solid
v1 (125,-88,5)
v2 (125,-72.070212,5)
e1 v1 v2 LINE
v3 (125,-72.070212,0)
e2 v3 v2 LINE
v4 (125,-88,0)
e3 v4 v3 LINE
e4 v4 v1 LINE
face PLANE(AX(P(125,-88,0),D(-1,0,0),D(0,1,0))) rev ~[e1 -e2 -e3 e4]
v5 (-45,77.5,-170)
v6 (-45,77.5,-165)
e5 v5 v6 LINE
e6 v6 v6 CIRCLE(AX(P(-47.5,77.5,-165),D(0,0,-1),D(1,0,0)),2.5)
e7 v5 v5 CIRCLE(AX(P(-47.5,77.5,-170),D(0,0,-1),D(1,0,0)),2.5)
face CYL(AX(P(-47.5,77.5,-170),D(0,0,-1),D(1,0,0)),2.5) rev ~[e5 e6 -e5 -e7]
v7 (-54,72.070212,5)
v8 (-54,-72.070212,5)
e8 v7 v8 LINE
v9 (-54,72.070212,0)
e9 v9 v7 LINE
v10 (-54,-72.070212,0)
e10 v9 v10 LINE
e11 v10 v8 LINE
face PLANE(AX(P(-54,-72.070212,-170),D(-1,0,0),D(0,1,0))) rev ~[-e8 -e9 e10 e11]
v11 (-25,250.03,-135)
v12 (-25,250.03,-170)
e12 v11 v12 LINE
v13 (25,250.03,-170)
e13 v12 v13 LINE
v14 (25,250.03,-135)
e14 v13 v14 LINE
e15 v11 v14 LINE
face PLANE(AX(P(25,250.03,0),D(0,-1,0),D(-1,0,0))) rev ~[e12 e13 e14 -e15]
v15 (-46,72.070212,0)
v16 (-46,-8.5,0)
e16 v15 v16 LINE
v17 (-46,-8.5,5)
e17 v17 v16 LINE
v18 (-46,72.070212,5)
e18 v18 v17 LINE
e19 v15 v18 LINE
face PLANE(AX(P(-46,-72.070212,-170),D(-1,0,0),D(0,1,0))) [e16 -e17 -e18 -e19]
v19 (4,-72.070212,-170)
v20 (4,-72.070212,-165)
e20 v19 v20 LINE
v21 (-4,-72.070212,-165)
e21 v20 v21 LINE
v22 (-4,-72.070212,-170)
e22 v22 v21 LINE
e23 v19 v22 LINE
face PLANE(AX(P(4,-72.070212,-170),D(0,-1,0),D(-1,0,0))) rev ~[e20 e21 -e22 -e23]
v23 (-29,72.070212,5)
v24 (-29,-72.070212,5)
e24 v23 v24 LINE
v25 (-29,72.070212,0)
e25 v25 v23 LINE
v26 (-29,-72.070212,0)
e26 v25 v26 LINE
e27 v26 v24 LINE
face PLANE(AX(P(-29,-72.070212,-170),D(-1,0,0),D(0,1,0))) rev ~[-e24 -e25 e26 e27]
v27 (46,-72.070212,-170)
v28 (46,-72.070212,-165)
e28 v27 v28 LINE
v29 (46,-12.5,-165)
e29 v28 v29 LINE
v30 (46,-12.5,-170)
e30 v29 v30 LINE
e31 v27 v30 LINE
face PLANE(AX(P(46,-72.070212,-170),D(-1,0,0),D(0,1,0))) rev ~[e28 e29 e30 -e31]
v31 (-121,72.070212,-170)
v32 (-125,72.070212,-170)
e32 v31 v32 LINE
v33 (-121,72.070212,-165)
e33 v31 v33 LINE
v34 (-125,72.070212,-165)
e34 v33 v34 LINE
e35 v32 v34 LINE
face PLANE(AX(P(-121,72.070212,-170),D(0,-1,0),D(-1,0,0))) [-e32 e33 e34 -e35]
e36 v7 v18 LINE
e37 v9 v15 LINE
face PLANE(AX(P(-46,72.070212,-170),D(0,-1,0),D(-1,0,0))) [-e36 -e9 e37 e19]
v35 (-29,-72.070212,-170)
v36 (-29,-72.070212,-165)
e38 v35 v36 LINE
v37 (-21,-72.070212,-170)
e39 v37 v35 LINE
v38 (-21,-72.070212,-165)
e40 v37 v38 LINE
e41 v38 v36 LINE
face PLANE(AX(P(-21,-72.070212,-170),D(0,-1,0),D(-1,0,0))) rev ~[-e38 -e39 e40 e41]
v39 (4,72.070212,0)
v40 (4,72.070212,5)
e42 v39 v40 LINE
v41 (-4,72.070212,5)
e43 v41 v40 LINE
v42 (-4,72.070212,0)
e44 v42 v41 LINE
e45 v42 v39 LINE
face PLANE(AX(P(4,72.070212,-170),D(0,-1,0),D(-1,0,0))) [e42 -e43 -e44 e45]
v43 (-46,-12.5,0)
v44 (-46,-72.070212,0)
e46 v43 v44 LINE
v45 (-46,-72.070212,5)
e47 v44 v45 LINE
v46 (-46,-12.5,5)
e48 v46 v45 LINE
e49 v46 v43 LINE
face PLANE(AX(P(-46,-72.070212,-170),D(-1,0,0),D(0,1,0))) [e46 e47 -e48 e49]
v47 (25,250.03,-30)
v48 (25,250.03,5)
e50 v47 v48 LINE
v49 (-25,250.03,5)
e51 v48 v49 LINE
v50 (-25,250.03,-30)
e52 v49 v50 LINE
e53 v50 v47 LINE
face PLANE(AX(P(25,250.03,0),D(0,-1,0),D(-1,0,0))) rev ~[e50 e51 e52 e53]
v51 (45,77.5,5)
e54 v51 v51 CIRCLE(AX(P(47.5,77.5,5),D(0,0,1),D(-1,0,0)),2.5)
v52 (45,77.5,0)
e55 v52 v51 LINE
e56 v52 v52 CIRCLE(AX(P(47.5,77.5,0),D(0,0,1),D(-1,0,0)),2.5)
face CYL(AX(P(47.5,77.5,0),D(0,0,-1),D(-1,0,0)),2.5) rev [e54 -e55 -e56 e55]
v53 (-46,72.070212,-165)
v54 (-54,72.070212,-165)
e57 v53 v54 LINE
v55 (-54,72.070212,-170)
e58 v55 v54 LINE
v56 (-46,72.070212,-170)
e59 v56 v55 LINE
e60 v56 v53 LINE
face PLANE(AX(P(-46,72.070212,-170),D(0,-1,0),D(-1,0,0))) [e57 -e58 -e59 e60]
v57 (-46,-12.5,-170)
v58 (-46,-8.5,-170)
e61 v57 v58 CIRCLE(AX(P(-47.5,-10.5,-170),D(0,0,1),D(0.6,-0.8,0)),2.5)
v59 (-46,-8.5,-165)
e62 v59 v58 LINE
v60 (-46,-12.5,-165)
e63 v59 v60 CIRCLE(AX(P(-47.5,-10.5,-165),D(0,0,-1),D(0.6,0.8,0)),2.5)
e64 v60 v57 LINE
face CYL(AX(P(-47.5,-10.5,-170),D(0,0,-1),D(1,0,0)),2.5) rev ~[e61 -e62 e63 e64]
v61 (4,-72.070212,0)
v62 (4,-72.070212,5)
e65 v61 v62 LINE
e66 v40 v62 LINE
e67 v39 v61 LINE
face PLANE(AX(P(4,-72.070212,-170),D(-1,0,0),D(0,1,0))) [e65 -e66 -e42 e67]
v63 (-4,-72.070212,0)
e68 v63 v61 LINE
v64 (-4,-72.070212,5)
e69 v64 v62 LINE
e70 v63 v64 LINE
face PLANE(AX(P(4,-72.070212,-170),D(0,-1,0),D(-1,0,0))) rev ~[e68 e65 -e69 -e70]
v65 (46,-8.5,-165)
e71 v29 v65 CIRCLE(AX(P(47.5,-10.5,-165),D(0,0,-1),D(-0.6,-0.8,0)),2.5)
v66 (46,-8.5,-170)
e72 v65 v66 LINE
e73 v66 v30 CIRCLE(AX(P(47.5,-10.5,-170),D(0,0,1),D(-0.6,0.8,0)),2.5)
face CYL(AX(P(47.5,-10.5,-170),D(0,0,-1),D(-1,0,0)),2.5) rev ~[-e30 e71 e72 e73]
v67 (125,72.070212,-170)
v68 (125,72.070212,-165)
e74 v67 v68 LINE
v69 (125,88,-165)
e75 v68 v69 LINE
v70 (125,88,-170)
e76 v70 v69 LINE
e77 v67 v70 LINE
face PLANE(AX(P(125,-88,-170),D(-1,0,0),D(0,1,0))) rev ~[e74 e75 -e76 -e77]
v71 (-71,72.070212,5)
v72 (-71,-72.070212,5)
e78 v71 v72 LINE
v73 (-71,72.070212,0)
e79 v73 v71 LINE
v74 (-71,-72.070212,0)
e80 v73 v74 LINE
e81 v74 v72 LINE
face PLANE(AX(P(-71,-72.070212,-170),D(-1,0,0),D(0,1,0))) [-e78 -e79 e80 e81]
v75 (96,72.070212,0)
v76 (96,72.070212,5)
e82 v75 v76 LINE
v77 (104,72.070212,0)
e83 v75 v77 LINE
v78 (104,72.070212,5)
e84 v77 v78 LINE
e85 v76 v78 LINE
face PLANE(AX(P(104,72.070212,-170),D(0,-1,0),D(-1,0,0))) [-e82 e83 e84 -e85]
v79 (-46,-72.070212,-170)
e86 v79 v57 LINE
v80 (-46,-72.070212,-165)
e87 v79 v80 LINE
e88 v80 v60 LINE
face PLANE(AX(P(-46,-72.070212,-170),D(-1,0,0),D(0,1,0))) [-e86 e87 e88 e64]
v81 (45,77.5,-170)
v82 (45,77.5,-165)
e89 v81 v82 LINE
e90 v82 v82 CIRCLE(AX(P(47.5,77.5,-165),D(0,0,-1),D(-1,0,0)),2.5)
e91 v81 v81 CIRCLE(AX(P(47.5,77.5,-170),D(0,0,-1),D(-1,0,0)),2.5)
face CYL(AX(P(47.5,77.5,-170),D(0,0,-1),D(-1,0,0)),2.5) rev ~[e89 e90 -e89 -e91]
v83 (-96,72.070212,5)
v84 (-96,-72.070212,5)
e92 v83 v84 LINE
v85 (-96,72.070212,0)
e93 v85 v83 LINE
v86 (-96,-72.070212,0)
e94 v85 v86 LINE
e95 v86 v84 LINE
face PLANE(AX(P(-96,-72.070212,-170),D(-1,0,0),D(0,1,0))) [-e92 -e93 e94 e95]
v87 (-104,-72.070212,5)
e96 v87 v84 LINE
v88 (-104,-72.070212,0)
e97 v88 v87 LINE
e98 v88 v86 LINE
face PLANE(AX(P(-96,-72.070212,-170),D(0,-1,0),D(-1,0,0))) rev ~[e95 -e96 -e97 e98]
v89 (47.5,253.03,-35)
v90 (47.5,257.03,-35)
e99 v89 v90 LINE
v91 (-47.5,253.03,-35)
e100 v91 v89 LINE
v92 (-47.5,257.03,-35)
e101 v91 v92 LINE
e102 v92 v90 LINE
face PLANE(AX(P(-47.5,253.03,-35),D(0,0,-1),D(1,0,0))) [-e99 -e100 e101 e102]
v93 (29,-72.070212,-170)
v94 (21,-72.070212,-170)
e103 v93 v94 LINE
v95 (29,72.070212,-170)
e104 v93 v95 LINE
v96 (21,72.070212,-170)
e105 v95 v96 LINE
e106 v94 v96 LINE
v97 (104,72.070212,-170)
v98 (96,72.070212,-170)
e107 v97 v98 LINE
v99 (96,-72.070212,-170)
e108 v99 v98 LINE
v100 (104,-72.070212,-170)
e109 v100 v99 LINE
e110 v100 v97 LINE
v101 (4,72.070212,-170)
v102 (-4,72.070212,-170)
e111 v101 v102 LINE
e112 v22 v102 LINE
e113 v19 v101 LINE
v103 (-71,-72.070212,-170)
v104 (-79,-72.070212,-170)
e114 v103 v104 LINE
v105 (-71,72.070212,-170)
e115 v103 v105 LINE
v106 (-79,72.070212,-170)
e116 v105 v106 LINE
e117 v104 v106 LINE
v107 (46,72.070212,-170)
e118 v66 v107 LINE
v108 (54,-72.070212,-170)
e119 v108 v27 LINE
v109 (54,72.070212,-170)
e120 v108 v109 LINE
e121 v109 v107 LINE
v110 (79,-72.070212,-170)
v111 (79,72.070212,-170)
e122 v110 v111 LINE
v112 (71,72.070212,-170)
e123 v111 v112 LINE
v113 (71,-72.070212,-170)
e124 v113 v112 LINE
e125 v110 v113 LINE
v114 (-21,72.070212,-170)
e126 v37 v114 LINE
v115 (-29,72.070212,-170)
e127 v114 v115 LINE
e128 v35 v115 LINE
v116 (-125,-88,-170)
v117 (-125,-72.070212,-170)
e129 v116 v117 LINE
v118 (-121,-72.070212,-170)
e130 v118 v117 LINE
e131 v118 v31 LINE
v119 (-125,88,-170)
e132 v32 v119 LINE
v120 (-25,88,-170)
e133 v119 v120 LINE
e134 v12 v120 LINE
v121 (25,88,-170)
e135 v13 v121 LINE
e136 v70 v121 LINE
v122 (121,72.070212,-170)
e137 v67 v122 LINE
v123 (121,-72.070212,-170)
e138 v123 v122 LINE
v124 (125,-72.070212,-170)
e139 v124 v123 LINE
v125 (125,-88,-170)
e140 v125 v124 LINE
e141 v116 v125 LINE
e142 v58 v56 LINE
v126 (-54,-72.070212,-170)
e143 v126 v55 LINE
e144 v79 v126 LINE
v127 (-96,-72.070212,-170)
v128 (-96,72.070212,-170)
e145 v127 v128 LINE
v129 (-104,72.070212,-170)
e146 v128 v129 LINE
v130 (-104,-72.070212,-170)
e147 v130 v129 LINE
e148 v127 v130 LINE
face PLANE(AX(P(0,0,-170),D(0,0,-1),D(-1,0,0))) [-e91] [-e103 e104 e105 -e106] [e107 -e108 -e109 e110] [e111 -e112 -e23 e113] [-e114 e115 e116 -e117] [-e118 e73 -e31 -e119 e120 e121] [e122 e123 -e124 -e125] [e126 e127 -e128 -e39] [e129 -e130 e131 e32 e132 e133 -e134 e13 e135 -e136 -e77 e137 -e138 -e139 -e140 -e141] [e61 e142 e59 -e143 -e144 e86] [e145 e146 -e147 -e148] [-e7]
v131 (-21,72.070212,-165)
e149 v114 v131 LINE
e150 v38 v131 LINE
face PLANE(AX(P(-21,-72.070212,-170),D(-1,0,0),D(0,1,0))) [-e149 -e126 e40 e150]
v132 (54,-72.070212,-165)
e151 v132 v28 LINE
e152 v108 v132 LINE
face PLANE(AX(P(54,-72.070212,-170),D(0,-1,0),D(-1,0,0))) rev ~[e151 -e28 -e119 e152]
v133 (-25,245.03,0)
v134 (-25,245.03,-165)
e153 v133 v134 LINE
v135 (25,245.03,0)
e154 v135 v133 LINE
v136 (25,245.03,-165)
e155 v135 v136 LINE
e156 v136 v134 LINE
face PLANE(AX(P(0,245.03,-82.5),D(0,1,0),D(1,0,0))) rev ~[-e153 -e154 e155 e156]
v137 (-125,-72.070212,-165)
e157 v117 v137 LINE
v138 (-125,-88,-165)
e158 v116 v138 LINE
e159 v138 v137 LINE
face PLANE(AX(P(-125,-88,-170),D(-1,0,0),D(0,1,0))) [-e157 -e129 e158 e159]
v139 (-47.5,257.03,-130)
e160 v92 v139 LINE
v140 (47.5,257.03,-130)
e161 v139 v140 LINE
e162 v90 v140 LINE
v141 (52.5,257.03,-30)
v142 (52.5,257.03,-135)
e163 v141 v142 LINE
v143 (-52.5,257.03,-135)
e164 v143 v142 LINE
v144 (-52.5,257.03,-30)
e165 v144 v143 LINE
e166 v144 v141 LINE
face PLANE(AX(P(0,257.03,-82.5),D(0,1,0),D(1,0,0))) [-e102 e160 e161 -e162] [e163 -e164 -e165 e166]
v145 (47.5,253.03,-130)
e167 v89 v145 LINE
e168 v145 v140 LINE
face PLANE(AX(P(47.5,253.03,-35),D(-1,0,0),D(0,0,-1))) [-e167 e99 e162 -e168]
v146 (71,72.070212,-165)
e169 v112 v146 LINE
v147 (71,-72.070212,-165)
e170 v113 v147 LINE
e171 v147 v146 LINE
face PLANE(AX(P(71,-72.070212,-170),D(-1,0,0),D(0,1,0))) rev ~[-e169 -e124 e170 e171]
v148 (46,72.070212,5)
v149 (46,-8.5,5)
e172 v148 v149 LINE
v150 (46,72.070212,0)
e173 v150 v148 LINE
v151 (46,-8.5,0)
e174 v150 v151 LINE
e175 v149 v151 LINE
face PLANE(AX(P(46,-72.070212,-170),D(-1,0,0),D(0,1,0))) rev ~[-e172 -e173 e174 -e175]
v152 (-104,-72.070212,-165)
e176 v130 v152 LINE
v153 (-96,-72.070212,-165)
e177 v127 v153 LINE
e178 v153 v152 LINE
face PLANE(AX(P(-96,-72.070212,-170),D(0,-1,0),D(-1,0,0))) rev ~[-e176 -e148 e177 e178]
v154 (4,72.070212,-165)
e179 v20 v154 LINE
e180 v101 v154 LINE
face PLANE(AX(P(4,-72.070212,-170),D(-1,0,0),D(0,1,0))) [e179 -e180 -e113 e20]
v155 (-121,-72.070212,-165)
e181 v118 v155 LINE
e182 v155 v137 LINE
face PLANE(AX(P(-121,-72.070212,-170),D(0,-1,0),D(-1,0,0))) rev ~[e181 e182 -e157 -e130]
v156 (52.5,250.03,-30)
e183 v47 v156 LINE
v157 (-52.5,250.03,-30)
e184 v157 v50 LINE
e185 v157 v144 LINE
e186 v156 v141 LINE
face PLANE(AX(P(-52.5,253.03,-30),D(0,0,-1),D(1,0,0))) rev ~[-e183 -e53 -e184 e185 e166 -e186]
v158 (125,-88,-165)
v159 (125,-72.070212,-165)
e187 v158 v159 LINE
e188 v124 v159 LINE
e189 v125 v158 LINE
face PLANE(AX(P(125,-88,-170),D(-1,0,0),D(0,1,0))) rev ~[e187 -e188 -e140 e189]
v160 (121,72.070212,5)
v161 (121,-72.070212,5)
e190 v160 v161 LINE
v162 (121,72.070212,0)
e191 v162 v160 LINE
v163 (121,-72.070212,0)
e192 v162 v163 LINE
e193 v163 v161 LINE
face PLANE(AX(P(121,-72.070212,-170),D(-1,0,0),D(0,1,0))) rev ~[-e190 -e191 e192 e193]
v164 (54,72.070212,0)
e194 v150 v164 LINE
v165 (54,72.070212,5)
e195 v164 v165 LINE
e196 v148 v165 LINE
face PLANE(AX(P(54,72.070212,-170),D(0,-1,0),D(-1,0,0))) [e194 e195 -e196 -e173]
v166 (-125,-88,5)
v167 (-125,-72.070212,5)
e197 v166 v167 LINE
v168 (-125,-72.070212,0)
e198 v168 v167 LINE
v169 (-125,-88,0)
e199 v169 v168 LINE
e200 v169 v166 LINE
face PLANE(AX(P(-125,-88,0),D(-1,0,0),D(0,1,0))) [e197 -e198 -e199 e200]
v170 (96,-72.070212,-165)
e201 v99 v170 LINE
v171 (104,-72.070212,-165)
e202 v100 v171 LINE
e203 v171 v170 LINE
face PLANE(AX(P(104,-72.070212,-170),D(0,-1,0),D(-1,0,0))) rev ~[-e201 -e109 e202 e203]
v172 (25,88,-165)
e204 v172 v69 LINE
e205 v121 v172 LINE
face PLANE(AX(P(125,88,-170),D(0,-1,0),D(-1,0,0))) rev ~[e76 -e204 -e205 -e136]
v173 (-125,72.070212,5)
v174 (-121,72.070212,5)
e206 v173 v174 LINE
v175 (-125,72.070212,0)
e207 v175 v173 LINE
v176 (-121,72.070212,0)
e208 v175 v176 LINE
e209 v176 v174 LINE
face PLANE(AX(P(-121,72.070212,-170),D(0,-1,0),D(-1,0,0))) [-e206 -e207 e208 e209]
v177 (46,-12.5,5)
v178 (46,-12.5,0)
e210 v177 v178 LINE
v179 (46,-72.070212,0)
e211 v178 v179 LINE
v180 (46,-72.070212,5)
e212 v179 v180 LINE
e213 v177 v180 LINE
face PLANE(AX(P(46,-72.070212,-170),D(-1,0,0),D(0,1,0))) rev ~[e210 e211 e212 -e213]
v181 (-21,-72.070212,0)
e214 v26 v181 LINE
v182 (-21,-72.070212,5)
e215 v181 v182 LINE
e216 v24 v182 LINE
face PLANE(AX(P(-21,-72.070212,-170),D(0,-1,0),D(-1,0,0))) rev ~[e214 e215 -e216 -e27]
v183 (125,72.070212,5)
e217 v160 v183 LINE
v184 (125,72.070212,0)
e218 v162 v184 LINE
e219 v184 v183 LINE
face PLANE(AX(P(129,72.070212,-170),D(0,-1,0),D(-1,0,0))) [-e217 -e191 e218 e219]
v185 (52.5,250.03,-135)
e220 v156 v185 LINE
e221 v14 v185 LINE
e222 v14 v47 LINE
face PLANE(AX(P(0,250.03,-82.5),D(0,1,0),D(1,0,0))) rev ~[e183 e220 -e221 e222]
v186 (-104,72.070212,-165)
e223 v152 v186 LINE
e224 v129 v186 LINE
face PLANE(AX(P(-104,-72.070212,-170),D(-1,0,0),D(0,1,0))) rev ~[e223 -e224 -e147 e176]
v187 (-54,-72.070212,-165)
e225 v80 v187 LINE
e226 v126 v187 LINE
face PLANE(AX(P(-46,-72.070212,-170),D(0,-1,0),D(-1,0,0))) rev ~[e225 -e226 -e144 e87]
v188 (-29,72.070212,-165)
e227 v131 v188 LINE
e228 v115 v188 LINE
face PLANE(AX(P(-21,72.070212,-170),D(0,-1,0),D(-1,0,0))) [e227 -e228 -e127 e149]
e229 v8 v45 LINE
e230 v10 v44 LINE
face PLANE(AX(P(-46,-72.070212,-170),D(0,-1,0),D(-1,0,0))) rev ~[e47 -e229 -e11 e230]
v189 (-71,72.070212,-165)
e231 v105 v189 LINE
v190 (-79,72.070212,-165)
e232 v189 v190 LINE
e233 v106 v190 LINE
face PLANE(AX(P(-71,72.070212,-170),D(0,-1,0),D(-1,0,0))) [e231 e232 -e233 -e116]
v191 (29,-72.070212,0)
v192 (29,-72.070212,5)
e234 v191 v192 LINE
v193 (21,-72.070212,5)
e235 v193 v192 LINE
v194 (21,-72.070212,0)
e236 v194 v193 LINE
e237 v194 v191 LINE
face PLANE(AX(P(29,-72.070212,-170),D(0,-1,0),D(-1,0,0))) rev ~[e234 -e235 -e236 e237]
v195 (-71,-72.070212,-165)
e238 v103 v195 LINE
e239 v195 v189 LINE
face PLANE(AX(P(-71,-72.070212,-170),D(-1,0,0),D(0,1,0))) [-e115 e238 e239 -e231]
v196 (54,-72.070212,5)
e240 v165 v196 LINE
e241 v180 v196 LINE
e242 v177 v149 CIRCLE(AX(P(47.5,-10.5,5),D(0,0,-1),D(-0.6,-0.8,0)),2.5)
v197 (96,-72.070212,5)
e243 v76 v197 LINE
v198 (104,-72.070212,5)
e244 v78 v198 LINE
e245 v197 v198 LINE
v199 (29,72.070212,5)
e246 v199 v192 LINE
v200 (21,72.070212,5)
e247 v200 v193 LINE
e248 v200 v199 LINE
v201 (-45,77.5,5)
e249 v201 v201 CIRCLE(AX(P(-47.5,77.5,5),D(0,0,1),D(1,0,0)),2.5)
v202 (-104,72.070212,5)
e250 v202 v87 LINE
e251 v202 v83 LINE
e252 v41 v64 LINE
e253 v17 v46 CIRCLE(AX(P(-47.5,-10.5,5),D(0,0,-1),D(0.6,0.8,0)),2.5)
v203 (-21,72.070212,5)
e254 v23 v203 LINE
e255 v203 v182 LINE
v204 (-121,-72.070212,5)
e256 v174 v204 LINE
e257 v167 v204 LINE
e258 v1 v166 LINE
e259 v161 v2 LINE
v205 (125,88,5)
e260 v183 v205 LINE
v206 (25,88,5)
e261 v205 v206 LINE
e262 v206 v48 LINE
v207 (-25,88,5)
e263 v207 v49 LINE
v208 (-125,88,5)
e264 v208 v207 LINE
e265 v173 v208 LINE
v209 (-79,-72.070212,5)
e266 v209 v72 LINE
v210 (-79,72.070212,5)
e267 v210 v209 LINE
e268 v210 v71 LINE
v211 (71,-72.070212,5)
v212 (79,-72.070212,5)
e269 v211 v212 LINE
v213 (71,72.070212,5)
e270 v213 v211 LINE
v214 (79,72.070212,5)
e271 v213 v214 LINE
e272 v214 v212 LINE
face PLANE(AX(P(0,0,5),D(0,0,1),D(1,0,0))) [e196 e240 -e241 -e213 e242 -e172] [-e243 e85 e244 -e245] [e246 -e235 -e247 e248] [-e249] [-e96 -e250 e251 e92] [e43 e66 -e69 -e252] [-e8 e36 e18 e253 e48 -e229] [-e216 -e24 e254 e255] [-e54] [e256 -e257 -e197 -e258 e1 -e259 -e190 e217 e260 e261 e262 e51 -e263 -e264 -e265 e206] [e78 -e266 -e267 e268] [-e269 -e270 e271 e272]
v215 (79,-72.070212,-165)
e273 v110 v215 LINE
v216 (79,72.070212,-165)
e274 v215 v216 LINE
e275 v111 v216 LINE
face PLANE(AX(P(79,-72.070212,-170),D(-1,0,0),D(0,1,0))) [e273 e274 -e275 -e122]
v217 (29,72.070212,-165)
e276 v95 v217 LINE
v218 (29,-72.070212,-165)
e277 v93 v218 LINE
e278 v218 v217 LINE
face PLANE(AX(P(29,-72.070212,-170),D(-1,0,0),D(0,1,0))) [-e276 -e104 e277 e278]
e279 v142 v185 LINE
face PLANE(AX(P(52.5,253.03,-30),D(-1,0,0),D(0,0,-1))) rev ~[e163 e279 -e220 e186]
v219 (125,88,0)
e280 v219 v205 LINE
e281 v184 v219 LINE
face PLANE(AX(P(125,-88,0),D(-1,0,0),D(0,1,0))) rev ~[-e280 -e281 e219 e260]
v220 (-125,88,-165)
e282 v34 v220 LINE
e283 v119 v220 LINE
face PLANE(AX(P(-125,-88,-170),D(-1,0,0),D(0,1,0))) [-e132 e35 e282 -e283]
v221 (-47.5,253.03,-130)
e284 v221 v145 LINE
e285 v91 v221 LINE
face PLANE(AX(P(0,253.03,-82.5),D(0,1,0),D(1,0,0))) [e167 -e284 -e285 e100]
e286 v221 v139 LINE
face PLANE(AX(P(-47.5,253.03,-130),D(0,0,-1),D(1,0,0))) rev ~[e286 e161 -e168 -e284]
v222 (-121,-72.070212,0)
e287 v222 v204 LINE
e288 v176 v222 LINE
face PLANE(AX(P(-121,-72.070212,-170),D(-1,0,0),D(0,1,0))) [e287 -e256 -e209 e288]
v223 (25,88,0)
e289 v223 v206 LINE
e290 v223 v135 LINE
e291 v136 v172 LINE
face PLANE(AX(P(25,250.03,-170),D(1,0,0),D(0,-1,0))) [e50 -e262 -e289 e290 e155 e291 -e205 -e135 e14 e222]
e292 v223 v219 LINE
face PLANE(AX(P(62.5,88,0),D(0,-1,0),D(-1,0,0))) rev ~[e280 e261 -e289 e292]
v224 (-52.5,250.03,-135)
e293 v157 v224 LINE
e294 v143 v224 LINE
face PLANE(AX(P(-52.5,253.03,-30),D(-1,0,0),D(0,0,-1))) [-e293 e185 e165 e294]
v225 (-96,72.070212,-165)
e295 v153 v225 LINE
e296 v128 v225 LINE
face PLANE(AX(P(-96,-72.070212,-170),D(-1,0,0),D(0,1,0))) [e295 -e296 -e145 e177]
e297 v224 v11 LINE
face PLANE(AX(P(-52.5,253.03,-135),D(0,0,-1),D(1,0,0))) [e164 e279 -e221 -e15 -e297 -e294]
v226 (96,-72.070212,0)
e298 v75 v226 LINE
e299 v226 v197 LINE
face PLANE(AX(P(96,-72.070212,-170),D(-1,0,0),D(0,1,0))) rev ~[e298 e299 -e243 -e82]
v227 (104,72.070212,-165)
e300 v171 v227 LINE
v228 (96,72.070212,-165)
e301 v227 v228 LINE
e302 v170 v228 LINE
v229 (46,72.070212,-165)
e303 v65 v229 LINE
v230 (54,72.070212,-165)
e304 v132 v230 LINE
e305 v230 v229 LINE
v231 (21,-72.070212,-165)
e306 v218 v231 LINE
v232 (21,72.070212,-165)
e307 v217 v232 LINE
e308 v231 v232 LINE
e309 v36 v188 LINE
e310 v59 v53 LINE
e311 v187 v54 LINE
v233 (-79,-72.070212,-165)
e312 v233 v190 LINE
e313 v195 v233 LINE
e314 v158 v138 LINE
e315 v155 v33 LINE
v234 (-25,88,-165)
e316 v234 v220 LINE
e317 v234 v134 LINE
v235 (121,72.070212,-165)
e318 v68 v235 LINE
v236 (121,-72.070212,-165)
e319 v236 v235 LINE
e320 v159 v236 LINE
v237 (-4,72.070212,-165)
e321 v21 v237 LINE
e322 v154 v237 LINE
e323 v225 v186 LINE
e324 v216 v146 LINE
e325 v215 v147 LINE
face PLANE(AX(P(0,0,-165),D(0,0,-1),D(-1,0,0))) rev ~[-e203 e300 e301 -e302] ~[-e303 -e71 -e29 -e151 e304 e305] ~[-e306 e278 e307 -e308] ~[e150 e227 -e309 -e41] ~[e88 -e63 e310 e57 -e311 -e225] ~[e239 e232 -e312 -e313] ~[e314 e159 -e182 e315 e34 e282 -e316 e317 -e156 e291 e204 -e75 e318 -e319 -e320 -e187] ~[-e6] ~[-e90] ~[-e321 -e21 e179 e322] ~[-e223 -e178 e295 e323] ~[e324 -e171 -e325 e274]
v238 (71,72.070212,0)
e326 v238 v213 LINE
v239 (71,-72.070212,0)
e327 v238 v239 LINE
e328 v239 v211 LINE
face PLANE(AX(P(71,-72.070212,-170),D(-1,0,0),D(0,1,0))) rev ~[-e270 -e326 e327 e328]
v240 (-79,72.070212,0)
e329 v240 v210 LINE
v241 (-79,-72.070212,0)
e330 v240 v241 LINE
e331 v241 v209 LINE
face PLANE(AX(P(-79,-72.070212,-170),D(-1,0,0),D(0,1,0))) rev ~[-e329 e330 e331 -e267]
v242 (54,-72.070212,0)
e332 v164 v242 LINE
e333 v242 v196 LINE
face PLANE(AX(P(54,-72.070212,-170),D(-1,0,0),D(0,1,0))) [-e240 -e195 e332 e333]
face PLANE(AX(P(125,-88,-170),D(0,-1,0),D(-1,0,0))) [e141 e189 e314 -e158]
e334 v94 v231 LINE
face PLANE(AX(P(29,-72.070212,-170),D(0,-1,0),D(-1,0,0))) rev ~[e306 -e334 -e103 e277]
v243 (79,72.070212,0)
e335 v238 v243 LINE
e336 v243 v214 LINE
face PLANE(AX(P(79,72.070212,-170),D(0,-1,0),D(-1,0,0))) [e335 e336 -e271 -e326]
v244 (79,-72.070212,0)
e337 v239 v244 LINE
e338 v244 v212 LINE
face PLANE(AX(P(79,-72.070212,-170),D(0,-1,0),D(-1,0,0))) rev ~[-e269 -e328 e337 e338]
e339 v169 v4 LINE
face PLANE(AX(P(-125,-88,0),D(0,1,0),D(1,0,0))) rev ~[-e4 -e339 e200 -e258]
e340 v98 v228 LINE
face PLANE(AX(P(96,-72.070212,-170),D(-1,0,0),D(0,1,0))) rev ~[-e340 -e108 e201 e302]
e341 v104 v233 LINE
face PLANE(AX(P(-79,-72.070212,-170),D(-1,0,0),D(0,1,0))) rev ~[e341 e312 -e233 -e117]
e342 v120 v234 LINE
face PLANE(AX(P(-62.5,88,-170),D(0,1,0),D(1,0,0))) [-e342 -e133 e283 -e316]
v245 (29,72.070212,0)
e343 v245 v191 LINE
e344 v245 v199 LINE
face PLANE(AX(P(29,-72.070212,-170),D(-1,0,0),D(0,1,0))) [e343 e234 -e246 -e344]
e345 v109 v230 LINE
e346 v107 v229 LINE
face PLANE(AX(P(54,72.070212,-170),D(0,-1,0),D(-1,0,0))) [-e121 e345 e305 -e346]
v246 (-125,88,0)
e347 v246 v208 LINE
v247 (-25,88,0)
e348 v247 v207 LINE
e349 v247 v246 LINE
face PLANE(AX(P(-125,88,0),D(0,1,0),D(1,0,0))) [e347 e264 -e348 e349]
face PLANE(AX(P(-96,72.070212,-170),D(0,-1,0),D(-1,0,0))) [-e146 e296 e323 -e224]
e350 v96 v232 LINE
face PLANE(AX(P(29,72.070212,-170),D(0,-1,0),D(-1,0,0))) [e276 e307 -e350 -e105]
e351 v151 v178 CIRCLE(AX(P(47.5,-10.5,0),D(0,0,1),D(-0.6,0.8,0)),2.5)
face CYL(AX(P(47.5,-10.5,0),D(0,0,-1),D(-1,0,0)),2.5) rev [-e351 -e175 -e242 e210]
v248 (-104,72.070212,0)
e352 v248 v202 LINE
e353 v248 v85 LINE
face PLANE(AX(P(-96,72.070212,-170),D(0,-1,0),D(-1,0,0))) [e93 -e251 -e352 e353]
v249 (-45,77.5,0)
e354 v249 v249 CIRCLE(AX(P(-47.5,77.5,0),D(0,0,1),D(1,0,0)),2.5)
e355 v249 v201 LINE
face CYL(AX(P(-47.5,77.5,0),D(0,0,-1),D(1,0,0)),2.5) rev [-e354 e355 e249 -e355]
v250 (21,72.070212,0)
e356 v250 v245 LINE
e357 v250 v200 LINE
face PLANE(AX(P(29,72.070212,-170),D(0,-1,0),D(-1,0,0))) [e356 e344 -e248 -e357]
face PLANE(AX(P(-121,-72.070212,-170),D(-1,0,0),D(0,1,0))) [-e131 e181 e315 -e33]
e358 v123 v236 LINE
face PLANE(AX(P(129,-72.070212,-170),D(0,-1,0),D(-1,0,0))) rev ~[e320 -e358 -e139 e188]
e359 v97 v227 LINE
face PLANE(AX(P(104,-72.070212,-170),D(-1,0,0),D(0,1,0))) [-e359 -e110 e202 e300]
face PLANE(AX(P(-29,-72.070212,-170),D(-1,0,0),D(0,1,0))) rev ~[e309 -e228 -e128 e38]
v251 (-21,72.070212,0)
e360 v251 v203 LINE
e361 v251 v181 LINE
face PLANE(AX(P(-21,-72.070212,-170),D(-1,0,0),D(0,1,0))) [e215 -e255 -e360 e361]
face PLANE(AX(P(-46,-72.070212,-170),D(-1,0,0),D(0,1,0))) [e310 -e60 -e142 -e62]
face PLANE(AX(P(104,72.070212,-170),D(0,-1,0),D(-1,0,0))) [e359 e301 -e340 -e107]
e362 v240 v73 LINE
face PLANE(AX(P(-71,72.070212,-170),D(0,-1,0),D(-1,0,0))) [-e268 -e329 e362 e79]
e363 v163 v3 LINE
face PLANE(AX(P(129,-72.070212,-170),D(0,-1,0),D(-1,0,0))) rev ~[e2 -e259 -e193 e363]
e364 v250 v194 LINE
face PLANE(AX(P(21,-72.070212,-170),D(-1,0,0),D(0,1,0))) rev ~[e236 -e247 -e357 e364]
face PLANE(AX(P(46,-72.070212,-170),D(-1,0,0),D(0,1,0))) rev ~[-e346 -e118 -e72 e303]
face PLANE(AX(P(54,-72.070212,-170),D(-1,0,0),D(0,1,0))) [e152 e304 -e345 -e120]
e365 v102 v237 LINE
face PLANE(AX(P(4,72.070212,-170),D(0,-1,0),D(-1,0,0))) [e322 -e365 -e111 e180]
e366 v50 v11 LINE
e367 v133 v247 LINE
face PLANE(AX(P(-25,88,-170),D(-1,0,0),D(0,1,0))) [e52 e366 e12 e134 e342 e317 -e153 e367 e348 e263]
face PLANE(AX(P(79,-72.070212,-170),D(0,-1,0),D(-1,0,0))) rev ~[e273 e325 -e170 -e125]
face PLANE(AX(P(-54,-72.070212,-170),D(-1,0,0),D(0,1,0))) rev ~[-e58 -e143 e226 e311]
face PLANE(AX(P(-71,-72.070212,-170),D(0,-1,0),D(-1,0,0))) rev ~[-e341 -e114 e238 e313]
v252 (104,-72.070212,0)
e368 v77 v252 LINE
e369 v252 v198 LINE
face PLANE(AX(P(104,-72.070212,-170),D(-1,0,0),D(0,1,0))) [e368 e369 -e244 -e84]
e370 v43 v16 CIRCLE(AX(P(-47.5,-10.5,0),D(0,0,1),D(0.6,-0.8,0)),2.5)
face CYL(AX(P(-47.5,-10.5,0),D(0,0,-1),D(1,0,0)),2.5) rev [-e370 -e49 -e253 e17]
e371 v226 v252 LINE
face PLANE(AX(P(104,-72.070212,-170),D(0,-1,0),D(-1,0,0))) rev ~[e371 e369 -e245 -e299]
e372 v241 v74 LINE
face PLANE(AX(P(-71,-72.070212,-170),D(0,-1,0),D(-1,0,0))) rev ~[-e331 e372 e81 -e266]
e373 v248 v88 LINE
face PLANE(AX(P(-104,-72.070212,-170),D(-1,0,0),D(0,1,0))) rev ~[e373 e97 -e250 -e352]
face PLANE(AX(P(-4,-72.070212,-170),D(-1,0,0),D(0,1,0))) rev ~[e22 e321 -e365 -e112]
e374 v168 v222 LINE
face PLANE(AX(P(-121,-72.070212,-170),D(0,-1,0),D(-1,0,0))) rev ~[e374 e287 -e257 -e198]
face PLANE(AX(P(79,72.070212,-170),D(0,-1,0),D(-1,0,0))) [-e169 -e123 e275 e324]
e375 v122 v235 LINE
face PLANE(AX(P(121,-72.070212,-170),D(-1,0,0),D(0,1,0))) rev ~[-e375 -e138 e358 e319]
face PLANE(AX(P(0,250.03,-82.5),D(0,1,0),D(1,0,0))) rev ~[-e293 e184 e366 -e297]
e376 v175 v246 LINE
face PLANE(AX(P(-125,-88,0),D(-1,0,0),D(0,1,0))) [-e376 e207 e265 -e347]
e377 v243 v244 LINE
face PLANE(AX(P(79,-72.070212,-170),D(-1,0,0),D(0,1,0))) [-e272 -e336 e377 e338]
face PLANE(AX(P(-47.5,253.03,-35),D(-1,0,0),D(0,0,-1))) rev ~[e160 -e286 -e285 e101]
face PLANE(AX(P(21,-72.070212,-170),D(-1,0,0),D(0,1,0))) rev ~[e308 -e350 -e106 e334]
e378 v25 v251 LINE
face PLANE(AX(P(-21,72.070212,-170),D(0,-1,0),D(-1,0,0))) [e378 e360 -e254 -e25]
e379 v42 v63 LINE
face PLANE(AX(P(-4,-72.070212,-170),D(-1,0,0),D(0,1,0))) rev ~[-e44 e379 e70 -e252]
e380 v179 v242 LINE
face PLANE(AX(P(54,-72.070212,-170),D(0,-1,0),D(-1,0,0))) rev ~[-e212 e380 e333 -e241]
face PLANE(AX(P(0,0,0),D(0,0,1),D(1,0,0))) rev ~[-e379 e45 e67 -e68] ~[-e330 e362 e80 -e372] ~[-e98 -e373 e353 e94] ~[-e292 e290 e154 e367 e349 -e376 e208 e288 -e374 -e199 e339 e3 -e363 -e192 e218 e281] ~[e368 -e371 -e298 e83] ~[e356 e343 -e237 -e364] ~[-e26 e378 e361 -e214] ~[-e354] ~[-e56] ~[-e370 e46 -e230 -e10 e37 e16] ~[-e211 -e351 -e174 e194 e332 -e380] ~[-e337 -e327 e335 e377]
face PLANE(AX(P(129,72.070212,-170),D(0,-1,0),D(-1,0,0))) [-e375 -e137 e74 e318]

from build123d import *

# Parameters (mm, degrees)
ESQUISSE1_R                    = 2.5
BOSS_EXTRU_1_DEPTH             = 5
ESQUISSE2_W                    = 50
ESQUISSE2_H                    = 175
BOSS_EXTRU_2_DEPTH             = 5
ESQUISSE3_R                    = 2.5
BOSS_EXTRU_3_DEPTH             = 5
ESQUISSE4_W                    = 105
ESQUISSE4_H                    = 105
BOSS_EXTRU_4_DEPTH             = 3
ESQUISSE5_W                    = 105
ESQUISSE5_H                    = 105
ESQUISSE5_W_2                  = 95
ESQUISSE5_H_2                  = 95
BOSS_EXTRU_5_DEPTH             = 4
ESQUISSE6_W                    = 250
ESQUISSE6_H                    = 176
ESQUISSE6_R                    = 2.5
ESQUISSE6_R_2                  = 2.502271874
ESQUISSE6_R_3                  = 2.696378283
BOSS_EXTRU_6_DEPTH             = 5
BOSS_EXTRU_7_START             = -5
ESQUISSE8_W                    = 250
ESQUISSE8_H                    = 176
ESQUISSE8_R                    = 2.696378283
ESQUISSE8_R_2                  = 2.502271874
ESQUISSE8_R_3                  = 2.5
BOSS_EXTRU_7_DEPTH             = 5
ESQUISSE9_W                    = 8
ESQUISSE9_H                    = 144.140424184
ENL_V_MAT_EXTRU_1_DEPTH        = 296
R_P_TITION_LIN_AIRE1_COUNT     = 6
R_P_TITION_LIN_AIRE1_PITCH     = 25
R_P_TITION_LIN_AIRE1_COL_COUNT = 6
R_P_TITION_LIN_AIRE1_COL_PITCH = 25


with BuildPart() as part:
    # Esquisse1 → Boss.-Extru.1 (new body)
    with BuildSketch(Plane.XY):
        Polygon((-62.5, 88), (-62.5, -88), (62.5, -88), (62.5, 88), (25, 88), (25, 250.03), (-25, 250.03), (-25, 88), align=None)
        with Locations((-47.5, 77.5)):
            Circle(ESQUISSE1_R, mode=Mode.SUBTRACT)
        with Locations((-47.5, -10.5)):
            Circle(ESQUISSE1_R, mode=Mode.SUBTRACT)
        with Locations(Location((47.5, -10.5, 0), (0, 0, 180))):
            Circle(ESQUISSE1_R, mode=Mode.SUBTRACT)
        with Locations(Location((47.5, 77.5, 0), (0, 0, 180))):
            Circle(ESQUISSE1_R, mode=Mode.SUBTRACT)
    extrude(amount=BOSS_EXTRU_1_DEPTH)

    # Esquisse2 → Boss.-Extru.2 (add)
    with BuildSketch(Plane(origin=(0, 250.03, 0), x_dir=(1, 0, 0), z_dir=(0, 1, 0))):
        with Locations((0, 82.5)):
            Rectangle(ESQUISSE2_W, ESQUISSE2_H)
    extrude(amount=-BOSS_EXTRU_2_DEPTH)

    # Esquisse3 → Boss.-Extru.3 (add)
    with BuildSketch(Plane(origin=(0, 0, -170), x_dir=(-1, 0, 0), z_dir=(0, 0, -1))):
        Polygon((25, 88), (25, 250.03), (-25, 250.03), (-25, 88), (-62.5, 88), (-62.5, -88), (62.5, -88), (62.5, 88), align=None)
        with Locations(Location((47.5, -10.5, 0), (0, 0, 180))):
            Circle(ESQUISSE3_R, mode=Mode.SUBTRACT)
        with Locations(Location((47.5, 77.5, 0), (0, 0, 180))):
            Circle(ESQUISSE3_R, mode=Mode.SUBTRACT)
        with Locations((-47.5, 77.5)):
            Circle(ESQUISSE3_R, mode=Mode.SUBTRACT)
        with Locations((-47.5, -10.5)):
            Circle(ESQUISSE3_R, mode=Mode.SUBTRACT)
    extrude(amount=-BOSS_EXTRU_3_DEPTH)

    # Esquisse4 → Boss.-Extru.4 (add)
    with BuildSketch(Plane(origin=(0, 250.03, 0), x_dir=(1, 0, 0), z_dir=(0, 1, 0))):
        with Locations((0, 82.5)):
            Rectangle(ESQUISSE4_W, ESQUISSE4_H)
    extrude(amount=BOSS_EXTRU_4_DEPTH)

    # Esquisse5 → Boss.-Extru.5 (add)
    with BuildSketch(Plane(origin=(0, 253.03, 0), x_dir=(1, 0, 0), z_dir=(0, 1, 0))):
        with Locations((0, 82.5)):
            Rectangle(ESQUISSE5_W, ESQUISSE5_H)
        with Locations((0, 82.5)):
            Rectangle(ESQUISSE5_W_2, ESQUISSE5_H_2, mode=Mode.SUBTRACT)
    extrude(amount=BOSS_EXTRU_5_DEPTH)

    # Esquisse6 → Boss.-Extru.6 (add)
    with BuildSketch(Plane(origin=(0, 0, -170), x_dir=(-1, 0, 0), z_dir=(0, 0, -1))):
        Rectangle(ESQUISSE6_W, ESQUISSE6_H)
        with Locations((-47.5, 77.5)):
            Circle(ESQUISSE6_R, mode=Mode.SUBTRACT)
        with Locations((47.5, 77.5)):
            Circle(ESQUISSE6_R_2, mode=Mode.SUBTRACT)
        with Locations((-47.5, -10.5)):
            Circle(ESQUISSE6_R_3, mode=Mode.SUBTRACT)
        with Locations((47.5, -10.5)):
            Circle(ESQUISSE6_R_3, mode=Mode.SUBTRACT)
    extrude(amount=-BOSS_EXTRU_6_DEPTH)

    # Esquisse8 → Boss.-Extru.7 (add)
    with BuildSketch(Plane.XY.offset(5).offset(BOSS_EXTRU_7_START)):
        Rectangle(ESQUISSE8_W, ESQUISSE8_H)
        with Locations((47.5, -10.5)):
            Circle(ESQUISSE8_R, mode=Mode.SUBTRACT)
        with Locations((-47.5, 77.5)):
            Circle(ESQUISSE8_R_2, mode=Mode.SUBTRACT)
        with Locations(Location((47.5, 77.5, 0), (0, 0, 180))):
            Circle(ESQUISSE8_R_3, mode=Mode.SUBTRACT)
        with Locations((-47.5, -10.5)):
            Circle(ESQUISSE8_R, mode=Mode.SUBTRACT)
    extrude(amount=BOSS_EXTRU_7_DEPTH)

    # Esquisse9 → Enlèv. mat.-Extru.1 (cut)
    with BuildSketch(Plane(origin=(0, 0, -170), x_dir=(-1, 0, 0), z_dir=(0, 0, -1))):
        Rectangle(ESQUISSE9_W, ESQUISSE9_H)
    enl_v_mat_extru_1 = extrude(amount=-ENL_V_MAT_EXTRU_1_DEPTH, mode=Mode.SUBTRACT)

    # Répétition linéaire1: Enlèv. mat.-Extru.1 ×6
    with Locations(*[(-i * R_P_TITION_LIN_AIRE1_PITCH, 0, 0) for i in range(1, R_P_TITION_LIN_AIRE1_COUNT)]):
        add(enl_v_mat_extru_1, mode=Mode.SUBTRACT)

    # Répétition linéaire1 col: Enlèv. mat.-Extru.1 ×6
    with Locations(*[(i * R_P_TITION_LIN_AIRE1_COL_PITCH, 0, 0) for i in range(1, R_P_TITION_LIN_AIRE1_COL_COUNT)]):
        add(enl_v_mat_extru_1, mode=Mode.SUBTRACT)


solid = part.part
